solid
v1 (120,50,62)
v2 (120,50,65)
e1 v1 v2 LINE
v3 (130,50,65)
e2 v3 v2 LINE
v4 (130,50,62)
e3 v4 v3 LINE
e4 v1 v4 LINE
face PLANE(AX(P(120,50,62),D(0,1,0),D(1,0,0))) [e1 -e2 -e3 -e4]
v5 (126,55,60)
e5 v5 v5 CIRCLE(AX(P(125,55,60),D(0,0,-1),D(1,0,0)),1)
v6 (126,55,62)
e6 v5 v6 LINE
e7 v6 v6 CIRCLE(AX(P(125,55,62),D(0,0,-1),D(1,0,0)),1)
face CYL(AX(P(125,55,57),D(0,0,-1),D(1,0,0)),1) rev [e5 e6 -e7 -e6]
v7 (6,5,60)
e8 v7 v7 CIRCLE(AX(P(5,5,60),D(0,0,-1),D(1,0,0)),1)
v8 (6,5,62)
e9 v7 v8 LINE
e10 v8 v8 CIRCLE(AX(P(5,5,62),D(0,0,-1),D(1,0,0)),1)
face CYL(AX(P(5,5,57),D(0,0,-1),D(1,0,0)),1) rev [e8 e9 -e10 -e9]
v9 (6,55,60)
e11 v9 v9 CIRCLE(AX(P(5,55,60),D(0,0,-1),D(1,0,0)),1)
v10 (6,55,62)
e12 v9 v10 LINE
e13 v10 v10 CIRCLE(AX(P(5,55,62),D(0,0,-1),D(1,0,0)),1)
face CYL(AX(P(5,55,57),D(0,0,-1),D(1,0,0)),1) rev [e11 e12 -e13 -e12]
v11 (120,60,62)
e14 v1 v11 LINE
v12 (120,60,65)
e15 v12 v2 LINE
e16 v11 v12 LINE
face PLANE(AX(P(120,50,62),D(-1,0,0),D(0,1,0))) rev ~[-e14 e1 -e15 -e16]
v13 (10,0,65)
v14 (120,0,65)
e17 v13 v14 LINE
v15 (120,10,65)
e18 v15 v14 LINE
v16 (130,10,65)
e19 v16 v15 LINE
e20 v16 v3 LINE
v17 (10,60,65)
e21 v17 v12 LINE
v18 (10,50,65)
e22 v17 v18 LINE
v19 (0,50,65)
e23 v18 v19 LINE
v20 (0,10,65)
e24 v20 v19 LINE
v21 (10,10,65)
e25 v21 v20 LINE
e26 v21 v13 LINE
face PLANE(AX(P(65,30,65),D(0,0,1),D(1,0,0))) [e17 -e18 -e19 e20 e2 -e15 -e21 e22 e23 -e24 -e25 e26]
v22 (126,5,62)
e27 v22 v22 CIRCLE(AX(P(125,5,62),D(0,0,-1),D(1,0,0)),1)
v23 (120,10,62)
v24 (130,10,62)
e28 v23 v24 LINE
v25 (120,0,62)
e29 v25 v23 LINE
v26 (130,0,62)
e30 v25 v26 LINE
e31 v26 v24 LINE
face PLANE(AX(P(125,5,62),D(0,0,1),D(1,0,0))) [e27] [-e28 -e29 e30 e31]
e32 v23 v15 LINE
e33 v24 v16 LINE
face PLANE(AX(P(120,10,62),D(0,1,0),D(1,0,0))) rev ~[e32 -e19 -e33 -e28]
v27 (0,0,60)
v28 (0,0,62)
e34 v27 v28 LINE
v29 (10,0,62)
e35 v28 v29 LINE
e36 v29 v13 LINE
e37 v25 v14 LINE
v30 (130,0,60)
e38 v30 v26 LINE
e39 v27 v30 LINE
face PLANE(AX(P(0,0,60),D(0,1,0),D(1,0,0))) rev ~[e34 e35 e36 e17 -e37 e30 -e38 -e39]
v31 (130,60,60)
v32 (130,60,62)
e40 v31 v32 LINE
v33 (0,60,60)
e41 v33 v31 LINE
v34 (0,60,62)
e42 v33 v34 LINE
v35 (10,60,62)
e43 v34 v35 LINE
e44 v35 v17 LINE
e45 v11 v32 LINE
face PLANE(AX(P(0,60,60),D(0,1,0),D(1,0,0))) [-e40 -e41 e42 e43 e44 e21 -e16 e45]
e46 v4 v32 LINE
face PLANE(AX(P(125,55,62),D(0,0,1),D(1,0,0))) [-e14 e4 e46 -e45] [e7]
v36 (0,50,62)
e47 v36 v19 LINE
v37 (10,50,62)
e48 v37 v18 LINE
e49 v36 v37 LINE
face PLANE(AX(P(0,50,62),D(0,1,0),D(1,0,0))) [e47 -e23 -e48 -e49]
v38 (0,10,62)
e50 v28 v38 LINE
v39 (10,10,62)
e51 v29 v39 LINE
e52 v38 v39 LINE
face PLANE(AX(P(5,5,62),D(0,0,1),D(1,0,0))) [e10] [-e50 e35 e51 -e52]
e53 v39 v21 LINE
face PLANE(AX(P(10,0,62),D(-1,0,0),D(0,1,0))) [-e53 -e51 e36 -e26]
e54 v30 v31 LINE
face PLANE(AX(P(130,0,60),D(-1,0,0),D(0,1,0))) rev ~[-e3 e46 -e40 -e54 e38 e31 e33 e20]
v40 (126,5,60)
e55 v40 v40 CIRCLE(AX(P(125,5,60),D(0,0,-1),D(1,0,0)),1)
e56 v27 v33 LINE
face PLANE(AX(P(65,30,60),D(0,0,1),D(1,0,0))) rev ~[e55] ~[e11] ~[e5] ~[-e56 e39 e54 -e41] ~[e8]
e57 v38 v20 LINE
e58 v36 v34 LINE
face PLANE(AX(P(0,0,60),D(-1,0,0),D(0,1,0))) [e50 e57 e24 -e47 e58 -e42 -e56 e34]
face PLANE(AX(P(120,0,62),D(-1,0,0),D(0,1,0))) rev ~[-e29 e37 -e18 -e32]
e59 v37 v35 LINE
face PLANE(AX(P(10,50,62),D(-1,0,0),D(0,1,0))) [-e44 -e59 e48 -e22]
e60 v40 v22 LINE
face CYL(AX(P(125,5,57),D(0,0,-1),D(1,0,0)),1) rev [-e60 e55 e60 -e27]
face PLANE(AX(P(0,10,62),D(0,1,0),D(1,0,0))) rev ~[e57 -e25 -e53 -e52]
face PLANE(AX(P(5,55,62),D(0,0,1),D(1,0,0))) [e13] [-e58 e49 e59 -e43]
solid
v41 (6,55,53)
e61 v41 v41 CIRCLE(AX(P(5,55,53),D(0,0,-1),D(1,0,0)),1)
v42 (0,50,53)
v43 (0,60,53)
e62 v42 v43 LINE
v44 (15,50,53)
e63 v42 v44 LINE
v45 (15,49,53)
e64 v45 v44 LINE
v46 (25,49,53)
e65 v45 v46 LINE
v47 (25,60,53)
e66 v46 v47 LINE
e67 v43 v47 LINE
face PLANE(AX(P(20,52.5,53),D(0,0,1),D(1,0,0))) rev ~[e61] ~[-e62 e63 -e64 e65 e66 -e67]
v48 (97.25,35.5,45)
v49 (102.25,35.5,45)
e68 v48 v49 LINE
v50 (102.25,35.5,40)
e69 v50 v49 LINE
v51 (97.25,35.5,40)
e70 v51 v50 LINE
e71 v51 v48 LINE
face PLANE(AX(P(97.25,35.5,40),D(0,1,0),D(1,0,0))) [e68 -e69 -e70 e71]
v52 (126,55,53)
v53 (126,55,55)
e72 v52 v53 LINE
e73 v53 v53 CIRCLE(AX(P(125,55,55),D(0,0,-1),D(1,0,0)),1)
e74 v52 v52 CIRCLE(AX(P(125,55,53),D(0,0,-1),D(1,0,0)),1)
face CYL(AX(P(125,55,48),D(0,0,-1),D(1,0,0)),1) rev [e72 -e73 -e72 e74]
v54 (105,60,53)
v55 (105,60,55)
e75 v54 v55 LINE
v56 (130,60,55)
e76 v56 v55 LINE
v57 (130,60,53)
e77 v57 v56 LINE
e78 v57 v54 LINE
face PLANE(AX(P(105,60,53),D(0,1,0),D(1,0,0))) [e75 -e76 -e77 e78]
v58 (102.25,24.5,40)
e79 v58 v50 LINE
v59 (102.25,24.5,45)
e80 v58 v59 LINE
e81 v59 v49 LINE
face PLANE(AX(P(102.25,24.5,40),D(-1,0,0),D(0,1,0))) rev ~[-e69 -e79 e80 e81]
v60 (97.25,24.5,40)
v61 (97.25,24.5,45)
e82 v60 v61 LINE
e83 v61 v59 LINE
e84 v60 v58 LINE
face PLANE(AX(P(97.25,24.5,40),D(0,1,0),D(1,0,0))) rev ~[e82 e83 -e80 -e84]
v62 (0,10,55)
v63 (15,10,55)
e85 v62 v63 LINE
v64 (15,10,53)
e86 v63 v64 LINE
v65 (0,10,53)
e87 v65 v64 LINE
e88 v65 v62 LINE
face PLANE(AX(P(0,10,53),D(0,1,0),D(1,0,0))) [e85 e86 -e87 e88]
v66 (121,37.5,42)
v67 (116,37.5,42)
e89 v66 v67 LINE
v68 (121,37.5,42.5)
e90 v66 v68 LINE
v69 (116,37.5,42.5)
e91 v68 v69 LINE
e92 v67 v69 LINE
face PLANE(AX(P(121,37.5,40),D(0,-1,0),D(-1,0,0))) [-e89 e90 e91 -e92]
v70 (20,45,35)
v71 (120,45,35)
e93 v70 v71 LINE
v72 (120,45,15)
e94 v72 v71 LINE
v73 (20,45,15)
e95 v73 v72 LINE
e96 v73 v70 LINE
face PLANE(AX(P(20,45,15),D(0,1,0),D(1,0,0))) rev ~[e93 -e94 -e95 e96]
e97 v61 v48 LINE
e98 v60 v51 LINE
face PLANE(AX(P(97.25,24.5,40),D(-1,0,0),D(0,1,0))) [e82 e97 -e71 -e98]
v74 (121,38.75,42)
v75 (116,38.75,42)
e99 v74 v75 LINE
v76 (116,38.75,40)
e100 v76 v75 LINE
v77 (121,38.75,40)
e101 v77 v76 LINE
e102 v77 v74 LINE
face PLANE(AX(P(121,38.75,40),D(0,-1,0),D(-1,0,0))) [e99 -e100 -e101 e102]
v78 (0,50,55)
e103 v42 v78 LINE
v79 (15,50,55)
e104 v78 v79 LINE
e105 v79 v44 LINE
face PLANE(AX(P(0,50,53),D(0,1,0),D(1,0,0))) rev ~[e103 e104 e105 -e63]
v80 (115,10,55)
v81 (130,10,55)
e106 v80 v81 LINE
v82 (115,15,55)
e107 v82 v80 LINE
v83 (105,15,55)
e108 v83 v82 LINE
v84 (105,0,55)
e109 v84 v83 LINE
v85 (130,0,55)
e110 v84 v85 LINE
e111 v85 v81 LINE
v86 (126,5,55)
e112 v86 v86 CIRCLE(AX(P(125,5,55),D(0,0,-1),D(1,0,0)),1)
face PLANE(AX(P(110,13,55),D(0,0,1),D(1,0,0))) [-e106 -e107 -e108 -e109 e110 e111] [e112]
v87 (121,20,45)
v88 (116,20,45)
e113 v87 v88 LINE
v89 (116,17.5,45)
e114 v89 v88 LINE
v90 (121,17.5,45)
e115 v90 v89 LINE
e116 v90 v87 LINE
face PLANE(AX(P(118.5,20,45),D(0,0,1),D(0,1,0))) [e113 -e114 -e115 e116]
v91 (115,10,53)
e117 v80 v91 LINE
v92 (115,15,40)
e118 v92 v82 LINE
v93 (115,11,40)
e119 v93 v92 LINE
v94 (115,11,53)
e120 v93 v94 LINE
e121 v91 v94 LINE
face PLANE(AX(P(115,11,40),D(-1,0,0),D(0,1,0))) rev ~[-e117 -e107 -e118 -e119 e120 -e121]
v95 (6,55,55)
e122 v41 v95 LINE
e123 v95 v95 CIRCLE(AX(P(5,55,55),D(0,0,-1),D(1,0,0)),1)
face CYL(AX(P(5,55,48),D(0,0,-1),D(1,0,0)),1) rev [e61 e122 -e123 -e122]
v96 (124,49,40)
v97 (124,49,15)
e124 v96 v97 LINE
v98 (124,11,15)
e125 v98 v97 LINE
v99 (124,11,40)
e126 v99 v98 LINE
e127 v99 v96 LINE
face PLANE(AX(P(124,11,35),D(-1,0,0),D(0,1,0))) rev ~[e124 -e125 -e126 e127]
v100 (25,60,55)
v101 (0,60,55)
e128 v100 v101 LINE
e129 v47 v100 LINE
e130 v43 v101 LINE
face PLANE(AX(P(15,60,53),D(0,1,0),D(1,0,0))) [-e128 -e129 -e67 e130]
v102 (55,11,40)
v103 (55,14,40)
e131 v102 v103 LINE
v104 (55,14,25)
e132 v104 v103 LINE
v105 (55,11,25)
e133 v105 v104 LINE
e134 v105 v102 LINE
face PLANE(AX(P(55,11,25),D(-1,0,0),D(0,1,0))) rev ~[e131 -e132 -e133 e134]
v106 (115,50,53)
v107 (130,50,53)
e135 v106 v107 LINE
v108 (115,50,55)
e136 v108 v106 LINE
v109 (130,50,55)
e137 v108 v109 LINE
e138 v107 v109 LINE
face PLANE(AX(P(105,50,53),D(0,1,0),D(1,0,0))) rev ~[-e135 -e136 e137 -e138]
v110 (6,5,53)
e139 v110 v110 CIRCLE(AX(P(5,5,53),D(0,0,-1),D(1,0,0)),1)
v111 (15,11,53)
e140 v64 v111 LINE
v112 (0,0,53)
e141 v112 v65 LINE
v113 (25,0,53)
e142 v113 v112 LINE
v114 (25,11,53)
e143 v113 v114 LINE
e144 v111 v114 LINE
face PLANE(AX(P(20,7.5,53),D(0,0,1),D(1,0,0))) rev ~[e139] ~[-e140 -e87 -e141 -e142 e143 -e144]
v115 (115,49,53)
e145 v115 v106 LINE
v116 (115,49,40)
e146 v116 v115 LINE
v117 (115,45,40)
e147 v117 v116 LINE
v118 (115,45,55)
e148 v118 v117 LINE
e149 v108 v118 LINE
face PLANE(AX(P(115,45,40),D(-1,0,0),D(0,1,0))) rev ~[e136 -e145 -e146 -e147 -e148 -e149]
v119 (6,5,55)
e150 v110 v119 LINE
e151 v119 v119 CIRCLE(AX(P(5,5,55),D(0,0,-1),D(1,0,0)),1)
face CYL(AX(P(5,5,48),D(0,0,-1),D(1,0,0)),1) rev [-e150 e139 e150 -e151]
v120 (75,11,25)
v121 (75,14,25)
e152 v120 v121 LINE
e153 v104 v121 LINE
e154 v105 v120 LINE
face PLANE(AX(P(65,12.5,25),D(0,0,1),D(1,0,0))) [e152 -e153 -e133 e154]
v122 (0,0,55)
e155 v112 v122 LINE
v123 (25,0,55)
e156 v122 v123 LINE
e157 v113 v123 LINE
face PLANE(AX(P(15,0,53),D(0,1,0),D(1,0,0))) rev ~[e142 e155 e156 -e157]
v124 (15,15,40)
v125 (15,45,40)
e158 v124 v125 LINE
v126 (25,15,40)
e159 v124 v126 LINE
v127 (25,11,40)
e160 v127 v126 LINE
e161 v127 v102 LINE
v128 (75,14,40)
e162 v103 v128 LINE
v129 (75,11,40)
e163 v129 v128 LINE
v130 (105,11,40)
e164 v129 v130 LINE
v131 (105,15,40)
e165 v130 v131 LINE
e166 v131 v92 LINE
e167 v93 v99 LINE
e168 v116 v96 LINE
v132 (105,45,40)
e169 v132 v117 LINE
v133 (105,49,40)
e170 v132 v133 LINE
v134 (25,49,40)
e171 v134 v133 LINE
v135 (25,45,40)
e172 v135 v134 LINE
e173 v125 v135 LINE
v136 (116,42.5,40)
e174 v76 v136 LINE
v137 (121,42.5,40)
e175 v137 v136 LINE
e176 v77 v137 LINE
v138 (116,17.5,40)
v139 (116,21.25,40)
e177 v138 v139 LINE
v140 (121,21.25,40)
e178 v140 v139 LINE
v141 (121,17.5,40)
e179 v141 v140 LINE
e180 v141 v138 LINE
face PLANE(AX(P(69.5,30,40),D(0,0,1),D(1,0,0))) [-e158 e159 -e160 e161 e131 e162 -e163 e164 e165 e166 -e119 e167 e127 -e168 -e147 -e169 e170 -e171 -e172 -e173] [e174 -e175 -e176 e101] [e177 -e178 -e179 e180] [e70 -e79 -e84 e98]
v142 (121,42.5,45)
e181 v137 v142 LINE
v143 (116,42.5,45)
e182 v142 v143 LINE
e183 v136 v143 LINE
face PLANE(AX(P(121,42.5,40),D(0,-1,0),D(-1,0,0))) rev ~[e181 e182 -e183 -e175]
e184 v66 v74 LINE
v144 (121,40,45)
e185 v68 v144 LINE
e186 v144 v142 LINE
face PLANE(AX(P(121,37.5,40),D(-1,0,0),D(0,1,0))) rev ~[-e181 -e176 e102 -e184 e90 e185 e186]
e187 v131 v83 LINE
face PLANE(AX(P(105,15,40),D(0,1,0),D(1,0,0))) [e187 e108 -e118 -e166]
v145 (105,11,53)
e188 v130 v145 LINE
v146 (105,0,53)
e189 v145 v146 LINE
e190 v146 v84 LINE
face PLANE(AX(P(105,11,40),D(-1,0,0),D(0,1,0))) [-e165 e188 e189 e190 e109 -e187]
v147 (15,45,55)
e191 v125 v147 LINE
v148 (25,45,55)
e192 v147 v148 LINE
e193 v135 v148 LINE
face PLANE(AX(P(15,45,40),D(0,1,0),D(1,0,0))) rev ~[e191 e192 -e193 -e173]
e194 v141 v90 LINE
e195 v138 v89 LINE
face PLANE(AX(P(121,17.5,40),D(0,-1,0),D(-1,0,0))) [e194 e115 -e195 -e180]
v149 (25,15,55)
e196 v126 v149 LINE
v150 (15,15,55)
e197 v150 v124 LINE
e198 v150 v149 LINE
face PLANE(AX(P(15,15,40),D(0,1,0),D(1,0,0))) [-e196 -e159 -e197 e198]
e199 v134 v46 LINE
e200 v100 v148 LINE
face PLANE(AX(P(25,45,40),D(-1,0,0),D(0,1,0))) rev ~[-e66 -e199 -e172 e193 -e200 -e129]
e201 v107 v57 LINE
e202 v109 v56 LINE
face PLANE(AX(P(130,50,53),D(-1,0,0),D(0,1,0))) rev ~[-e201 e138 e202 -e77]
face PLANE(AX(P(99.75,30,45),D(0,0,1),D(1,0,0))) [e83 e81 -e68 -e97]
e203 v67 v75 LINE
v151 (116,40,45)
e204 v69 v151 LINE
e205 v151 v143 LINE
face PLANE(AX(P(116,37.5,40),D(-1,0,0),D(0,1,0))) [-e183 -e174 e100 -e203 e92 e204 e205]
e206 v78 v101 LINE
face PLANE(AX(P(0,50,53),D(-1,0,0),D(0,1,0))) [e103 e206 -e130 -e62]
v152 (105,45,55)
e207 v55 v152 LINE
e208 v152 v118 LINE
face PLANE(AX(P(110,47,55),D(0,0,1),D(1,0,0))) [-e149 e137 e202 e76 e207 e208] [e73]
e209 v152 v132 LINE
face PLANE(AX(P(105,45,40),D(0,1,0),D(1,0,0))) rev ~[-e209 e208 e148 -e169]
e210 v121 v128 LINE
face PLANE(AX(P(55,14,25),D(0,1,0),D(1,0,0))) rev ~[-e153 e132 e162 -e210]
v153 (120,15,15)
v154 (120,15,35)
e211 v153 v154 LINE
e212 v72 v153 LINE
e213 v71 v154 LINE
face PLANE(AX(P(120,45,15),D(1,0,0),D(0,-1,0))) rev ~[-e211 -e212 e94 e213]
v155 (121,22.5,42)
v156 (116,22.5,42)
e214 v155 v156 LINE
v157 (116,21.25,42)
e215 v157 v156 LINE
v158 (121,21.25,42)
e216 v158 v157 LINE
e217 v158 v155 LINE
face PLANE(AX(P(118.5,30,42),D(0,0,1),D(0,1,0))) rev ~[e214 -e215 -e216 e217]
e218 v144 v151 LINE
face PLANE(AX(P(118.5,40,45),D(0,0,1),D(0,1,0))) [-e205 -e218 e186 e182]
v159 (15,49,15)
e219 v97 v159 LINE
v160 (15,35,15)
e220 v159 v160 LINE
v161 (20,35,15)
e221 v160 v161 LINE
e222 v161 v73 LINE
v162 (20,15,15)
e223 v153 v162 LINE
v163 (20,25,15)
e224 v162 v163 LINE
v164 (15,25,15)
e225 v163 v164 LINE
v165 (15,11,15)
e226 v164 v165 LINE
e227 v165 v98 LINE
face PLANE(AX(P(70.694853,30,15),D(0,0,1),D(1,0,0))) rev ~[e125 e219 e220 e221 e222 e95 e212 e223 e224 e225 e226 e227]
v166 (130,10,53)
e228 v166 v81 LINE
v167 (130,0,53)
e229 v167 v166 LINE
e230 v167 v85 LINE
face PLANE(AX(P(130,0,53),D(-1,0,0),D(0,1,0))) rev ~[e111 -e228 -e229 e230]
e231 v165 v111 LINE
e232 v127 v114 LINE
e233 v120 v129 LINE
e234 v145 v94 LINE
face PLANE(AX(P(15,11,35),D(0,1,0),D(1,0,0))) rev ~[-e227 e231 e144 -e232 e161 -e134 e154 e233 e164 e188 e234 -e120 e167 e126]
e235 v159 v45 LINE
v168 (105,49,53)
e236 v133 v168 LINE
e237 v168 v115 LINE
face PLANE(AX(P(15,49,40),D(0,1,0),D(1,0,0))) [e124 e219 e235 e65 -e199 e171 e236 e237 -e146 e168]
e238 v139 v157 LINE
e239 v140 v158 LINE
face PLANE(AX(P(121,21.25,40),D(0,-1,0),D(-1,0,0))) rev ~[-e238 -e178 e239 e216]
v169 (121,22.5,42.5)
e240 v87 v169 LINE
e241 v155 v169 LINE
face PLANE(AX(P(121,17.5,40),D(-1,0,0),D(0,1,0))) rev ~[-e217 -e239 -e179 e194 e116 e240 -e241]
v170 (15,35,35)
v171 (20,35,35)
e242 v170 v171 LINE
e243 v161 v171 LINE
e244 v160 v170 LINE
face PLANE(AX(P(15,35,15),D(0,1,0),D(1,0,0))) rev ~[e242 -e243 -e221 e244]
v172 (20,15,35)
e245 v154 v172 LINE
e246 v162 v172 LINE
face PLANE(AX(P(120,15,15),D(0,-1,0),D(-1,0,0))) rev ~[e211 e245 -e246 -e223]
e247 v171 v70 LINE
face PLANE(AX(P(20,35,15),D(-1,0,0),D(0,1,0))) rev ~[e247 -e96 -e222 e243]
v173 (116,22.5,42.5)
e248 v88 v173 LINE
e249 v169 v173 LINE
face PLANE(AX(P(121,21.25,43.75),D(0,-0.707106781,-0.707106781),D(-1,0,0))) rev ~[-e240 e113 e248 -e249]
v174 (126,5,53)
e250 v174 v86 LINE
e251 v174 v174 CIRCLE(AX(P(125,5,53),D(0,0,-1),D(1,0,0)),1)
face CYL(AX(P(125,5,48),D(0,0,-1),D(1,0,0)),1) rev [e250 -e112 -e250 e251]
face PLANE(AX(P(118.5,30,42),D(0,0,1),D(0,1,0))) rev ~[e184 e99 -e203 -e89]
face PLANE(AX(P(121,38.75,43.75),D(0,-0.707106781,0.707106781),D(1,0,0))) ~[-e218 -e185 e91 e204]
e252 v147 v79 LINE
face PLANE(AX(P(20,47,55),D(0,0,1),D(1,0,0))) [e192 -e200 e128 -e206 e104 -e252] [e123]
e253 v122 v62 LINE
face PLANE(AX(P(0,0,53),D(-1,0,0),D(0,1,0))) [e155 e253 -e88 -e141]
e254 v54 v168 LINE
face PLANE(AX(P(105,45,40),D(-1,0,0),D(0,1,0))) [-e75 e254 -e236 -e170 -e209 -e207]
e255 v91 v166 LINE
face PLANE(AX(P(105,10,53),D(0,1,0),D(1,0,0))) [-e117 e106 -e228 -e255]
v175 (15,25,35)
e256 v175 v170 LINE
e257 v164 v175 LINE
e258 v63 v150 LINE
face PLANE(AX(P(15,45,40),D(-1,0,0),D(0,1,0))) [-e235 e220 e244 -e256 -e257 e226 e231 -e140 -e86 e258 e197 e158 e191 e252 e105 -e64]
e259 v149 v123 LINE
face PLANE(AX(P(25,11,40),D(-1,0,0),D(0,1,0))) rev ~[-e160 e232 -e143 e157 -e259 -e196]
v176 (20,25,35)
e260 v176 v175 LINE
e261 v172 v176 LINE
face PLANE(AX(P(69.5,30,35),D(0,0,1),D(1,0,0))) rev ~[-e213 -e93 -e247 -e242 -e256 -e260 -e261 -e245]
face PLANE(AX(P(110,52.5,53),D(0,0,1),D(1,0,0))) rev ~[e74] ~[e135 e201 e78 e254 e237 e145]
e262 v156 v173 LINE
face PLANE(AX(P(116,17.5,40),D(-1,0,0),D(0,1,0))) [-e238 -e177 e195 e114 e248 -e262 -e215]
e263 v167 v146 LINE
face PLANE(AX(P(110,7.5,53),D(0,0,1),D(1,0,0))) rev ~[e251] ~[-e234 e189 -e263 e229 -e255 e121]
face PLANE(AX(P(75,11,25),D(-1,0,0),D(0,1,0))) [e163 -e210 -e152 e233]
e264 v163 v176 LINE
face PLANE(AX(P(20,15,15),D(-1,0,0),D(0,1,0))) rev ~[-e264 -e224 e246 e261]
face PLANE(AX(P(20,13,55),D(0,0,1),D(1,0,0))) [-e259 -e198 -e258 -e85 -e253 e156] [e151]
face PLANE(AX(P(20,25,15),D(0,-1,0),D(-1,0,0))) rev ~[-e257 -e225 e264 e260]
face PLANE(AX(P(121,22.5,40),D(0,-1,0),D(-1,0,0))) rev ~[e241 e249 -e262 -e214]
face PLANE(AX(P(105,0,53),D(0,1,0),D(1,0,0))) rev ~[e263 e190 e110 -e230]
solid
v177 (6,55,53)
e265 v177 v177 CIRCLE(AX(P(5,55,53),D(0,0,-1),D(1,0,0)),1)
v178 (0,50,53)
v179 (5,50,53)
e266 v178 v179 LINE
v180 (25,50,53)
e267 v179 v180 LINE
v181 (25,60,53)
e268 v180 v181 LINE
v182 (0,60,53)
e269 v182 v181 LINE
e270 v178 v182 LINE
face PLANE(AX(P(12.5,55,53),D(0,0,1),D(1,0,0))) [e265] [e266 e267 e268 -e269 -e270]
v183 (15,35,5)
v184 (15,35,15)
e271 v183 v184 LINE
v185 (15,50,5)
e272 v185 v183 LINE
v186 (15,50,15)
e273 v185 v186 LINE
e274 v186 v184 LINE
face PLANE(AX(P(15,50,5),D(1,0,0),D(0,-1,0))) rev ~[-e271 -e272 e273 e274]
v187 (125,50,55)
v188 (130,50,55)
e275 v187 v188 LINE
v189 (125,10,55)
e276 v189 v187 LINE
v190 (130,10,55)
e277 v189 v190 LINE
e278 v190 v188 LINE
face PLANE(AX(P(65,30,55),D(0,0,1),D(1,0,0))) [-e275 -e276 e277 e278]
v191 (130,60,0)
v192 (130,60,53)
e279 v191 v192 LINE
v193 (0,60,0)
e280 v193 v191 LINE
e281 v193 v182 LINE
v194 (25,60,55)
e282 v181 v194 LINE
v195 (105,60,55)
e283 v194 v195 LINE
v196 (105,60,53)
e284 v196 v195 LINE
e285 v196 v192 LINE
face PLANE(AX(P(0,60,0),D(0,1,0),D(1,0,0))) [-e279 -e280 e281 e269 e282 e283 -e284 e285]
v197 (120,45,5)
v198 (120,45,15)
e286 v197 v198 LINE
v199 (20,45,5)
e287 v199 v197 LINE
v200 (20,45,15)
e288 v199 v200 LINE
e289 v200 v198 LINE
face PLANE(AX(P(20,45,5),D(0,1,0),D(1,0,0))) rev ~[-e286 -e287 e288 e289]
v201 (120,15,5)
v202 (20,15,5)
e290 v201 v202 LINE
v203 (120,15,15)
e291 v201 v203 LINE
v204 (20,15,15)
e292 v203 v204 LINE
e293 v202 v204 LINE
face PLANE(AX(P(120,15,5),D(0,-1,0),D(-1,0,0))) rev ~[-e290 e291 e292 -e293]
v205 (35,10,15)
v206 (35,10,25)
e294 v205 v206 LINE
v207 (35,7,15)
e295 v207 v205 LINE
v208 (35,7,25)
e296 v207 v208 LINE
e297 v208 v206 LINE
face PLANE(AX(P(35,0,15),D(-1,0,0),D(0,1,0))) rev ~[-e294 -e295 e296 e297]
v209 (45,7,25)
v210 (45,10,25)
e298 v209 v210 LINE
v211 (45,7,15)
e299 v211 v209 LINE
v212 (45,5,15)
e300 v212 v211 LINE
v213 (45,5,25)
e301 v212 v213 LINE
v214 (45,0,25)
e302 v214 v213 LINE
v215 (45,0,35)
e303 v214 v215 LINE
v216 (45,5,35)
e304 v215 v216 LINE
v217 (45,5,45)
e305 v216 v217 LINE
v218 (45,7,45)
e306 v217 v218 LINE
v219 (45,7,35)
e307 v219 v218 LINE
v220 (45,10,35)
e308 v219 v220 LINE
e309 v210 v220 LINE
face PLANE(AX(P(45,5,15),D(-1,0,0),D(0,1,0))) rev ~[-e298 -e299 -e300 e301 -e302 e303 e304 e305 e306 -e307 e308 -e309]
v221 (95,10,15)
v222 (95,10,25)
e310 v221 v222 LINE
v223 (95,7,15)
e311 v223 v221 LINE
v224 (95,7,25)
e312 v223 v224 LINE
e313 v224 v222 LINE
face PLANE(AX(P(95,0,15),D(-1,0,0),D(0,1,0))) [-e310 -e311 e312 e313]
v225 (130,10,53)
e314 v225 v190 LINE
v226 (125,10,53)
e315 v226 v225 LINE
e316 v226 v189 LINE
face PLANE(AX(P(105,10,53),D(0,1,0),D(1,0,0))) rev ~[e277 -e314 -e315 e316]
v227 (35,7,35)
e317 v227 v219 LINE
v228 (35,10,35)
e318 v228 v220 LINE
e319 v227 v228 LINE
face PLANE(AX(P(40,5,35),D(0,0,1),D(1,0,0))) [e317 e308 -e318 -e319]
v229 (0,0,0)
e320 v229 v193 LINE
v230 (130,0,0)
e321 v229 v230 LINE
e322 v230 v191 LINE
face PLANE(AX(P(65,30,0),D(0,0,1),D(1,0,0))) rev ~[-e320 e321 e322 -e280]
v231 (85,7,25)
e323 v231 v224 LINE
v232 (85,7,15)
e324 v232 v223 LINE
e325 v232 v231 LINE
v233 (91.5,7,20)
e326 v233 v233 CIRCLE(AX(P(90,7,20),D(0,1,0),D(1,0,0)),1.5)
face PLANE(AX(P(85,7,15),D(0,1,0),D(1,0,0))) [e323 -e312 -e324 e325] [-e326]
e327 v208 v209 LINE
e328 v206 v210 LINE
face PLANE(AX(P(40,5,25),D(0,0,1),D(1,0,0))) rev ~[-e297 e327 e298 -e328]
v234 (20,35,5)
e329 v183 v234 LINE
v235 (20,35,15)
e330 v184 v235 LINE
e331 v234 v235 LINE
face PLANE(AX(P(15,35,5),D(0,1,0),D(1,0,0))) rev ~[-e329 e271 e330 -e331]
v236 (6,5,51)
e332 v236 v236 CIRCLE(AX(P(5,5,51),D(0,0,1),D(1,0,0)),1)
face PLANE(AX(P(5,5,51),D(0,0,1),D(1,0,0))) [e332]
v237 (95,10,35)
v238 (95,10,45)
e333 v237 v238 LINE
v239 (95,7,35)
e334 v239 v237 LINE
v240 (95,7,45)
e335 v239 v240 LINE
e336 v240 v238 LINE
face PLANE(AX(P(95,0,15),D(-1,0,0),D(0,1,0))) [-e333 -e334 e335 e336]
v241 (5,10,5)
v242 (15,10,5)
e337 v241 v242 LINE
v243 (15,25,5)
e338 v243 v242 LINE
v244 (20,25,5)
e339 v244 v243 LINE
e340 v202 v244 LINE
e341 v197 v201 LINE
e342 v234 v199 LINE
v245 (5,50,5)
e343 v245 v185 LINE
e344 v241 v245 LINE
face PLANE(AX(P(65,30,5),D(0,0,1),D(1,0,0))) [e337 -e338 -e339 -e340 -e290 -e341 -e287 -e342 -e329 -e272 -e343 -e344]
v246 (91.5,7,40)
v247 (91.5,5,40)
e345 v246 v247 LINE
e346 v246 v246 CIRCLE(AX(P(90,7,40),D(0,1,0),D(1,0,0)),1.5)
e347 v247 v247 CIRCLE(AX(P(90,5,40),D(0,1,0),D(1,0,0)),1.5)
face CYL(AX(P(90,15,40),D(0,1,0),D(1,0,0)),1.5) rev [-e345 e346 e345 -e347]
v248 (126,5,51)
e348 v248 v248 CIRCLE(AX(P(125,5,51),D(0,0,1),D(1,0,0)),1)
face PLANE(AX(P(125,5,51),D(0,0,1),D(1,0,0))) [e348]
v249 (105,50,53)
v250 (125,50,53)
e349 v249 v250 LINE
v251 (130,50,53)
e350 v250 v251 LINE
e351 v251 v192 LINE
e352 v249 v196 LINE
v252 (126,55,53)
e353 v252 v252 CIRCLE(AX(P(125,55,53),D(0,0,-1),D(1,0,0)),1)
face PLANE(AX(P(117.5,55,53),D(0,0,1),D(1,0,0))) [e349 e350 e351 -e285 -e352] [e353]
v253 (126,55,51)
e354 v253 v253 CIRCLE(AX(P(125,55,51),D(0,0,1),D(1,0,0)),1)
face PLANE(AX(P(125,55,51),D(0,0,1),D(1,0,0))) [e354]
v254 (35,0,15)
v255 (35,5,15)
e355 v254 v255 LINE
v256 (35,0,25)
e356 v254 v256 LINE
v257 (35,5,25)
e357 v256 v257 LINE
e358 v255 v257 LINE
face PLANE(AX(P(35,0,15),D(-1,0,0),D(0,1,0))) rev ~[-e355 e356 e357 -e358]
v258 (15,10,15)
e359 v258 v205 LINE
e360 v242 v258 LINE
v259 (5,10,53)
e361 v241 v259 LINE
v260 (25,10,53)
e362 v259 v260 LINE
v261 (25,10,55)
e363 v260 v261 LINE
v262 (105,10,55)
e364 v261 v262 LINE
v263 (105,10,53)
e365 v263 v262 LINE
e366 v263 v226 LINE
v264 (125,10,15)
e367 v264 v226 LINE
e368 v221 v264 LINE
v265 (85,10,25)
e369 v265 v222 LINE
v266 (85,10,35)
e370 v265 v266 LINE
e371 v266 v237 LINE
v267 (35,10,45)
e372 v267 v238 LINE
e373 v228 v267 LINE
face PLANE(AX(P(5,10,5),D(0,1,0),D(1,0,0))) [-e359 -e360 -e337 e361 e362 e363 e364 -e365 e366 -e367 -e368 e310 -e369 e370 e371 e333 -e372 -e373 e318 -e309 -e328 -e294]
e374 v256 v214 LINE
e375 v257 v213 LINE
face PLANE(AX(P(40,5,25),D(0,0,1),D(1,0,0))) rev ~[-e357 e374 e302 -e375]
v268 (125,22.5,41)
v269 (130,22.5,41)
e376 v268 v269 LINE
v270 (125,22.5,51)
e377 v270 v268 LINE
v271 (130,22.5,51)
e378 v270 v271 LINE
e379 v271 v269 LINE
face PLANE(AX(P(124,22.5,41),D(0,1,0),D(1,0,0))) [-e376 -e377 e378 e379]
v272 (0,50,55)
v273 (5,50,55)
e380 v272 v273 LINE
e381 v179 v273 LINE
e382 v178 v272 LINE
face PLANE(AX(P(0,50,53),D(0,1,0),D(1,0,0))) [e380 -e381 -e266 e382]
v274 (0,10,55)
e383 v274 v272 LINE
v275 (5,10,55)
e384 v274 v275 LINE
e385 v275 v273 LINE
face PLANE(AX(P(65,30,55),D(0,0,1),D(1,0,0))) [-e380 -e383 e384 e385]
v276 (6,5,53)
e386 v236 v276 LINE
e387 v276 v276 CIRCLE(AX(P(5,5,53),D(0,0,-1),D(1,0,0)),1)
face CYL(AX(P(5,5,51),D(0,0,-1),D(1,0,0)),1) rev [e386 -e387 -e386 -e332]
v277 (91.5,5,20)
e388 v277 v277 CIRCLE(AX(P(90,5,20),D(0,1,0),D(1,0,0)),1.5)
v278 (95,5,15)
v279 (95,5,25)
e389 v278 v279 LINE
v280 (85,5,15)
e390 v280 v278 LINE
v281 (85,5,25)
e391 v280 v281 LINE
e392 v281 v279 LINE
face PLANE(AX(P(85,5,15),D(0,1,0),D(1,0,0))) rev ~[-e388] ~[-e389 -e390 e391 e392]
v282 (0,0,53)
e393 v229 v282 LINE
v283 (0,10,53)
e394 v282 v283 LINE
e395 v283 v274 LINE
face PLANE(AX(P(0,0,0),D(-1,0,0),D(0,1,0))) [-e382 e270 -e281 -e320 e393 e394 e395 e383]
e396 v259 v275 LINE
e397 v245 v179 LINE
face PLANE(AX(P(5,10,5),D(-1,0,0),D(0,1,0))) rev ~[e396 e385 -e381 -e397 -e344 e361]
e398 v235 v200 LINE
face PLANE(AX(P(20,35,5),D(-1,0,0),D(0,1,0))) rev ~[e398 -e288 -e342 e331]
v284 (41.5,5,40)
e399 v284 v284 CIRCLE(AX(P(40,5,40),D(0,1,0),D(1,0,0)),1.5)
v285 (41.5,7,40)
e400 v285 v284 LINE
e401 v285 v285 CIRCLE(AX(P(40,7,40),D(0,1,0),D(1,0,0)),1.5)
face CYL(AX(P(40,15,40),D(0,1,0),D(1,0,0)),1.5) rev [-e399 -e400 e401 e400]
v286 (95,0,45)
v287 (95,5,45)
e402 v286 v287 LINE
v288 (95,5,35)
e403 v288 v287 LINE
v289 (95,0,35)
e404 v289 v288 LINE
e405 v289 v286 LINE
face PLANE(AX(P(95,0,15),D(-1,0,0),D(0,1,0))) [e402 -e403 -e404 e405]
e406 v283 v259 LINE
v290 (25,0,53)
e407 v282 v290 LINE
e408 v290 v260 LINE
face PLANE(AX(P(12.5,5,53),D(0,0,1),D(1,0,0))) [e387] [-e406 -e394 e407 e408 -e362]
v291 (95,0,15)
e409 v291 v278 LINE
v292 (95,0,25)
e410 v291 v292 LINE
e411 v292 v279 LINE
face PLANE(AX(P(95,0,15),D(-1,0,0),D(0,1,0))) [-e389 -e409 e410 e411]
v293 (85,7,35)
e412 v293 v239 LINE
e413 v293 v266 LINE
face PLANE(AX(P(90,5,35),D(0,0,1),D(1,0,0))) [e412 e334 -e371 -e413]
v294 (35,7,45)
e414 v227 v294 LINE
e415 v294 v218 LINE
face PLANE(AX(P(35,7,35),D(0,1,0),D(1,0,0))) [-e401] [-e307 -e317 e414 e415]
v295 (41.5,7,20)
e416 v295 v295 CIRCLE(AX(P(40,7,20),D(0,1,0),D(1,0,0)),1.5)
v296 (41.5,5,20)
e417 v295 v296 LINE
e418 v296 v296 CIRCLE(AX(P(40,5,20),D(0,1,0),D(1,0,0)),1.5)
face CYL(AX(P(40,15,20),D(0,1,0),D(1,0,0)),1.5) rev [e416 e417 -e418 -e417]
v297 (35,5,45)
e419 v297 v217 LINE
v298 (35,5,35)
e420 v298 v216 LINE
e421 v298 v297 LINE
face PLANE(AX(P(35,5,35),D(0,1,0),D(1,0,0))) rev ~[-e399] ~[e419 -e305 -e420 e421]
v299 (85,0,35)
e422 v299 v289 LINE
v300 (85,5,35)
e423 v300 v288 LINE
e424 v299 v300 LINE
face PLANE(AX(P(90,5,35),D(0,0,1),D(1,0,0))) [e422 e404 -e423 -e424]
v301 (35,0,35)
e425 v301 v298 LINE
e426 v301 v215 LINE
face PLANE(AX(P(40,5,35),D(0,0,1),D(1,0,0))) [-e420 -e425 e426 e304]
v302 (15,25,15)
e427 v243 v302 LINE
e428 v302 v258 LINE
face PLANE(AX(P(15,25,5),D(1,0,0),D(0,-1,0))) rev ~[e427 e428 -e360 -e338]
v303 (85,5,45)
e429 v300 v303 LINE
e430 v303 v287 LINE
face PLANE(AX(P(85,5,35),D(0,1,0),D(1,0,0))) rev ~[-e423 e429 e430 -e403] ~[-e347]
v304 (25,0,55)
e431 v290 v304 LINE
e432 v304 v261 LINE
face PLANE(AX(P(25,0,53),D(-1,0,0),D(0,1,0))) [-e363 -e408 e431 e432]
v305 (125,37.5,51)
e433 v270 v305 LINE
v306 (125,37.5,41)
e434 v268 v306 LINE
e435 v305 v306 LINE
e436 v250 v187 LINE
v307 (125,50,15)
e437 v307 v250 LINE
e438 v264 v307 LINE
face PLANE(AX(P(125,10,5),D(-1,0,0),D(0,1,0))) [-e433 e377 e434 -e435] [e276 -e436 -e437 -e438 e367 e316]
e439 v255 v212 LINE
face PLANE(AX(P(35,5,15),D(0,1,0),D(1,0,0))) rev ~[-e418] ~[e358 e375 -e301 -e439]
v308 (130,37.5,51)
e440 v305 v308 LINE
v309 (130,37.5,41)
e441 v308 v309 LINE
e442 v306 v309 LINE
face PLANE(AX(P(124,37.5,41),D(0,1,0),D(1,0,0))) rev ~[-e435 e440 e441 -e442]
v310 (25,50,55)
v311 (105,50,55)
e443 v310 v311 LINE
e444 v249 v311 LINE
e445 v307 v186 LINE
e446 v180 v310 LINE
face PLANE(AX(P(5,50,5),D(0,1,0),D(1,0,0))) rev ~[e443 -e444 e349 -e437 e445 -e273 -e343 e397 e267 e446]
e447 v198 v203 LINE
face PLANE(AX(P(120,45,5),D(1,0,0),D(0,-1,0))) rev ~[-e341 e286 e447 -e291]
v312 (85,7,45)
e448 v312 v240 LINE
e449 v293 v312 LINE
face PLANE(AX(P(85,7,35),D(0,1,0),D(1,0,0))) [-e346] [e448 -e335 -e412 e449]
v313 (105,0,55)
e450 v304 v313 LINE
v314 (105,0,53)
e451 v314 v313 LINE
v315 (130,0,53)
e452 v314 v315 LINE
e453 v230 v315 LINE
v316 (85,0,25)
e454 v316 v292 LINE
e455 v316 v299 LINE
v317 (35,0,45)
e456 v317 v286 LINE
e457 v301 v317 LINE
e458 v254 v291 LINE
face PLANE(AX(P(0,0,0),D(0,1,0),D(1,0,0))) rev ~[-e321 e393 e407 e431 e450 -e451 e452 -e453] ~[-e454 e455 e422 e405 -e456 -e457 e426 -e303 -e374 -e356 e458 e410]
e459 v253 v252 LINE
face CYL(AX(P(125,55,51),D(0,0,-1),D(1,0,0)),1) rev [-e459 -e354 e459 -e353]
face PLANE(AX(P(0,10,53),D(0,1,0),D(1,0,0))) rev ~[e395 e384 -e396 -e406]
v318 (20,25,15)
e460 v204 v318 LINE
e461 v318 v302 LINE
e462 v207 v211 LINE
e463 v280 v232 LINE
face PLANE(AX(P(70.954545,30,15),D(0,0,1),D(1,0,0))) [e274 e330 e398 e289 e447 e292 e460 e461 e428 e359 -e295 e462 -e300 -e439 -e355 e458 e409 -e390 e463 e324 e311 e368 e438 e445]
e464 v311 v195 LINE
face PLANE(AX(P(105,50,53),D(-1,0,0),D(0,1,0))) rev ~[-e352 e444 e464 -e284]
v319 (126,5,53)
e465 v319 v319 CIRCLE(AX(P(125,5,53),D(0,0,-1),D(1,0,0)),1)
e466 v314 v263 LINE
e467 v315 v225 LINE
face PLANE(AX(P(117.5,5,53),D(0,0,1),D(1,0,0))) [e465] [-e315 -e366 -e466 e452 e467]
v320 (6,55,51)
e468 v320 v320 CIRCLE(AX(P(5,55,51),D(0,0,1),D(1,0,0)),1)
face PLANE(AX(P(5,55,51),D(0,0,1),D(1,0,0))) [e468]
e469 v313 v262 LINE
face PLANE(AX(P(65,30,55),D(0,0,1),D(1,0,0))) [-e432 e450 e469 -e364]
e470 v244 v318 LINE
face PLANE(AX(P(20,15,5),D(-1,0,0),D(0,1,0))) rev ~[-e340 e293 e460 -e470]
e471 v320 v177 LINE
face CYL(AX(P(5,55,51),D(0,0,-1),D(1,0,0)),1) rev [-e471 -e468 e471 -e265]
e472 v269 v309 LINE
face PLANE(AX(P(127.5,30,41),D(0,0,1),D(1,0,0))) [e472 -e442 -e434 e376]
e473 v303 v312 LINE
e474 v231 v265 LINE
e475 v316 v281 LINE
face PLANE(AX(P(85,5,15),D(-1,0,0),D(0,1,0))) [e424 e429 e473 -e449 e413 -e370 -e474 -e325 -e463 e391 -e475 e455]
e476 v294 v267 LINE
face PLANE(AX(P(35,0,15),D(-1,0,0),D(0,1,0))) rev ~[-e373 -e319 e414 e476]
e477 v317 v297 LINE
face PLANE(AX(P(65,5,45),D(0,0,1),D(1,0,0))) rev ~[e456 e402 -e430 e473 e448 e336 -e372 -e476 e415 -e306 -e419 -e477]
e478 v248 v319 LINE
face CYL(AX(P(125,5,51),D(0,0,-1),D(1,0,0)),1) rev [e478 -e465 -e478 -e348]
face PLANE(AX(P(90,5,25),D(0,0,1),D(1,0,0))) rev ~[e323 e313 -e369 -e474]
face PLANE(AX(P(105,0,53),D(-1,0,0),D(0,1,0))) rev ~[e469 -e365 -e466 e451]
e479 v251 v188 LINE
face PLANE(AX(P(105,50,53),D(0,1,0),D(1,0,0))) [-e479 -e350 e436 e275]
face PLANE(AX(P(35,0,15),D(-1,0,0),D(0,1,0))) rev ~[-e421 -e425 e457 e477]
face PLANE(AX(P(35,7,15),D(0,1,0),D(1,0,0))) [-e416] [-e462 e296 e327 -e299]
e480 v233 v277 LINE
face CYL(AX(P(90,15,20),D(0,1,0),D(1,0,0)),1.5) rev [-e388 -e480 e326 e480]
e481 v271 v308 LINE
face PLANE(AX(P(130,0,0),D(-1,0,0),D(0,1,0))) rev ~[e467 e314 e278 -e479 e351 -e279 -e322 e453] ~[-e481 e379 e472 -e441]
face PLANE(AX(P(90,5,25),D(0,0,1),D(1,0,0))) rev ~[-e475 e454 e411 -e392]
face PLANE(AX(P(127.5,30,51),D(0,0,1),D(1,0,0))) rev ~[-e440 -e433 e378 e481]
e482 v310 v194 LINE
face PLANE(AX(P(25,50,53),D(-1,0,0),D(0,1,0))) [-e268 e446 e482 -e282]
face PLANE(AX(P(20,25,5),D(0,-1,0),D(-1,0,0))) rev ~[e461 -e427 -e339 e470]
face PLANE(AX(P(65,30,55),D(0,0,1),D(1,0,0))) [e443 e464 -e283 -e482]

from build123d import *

# Parameters (mm, degrees)
CYLINDER002_R           = 1
CYLINDER002_DEPTH       = 20
BOX007_W                = 10
BOX007_H                = 10
BOX007_DEPTH            = 10
ARRAY005_X_COUNT        = 2
ARRAY005_X_PITCH        = 120
ARRAY005_Y_COUNT        = 2
ARRAY005_Y_PITCH        = 50
BOX002_W                = 130
BOX002_H                = 60
BOX002_DEPTH            = 5
BOX014_W                = 7
BOX014_H                = 15
BOX014_DEPTH            = 10
CYLINDER001_R           = 1
CYLINDER001_DEPTH       = 3
ARRAY004_X_COUNT        = 2
ARRAY004_X_PITCH        = 120
ARRAY004_Y_COUNT        = 2
ARRAY004_Y_PITCH        = 50
CYLINDER_R              = 1.5
CYLINDER_DEPTH          = 30
CYLINDER_ROLL_ANGLE     = 90
ARRAY003_X_COUNT        = 2
ARRAY003_X_PITCH        = 50
ARRAY003_Y_COUNT        = 2
ARRAY003_Y_PITCH        = 20
BOX006_W                = 25
BOX006_H                = 10
BOX006_DEPTH            = 2
ARRAY002_X_COUNT        = 2
ARRAY002_X_PITCH        = 105
ARRAY002_Y_COUNT        = 2
ARRAY002_Y_PITCH        = 50
BOX005_W                = 10
BOX005_H                = 10
BOX005_DEPTH            = 10
ARRAY001_X_COUNT        = 2
ARRAY001_X_PITCH        = 50
BOX004_W                = 10
BOX004_H                = 2
BOX004_DEPTH            = 10
ARRAY_X_COUNT           = 2
ARRAY_X_PITCH           = 50
ARRAY_Y_COUNT           = 2
ARRAY_Y_PITCH           = 20
BOX003_W                = 60
BOX003_H                = 10
BOX003_DEPTH            = 30
BOX001_W                = 120
BOX001_H                = 40
BOX001_DEPTH            = 50
BOX_W                   = 130
BOX_H                   = 60
BOX_DEPTH               = 55
PAD_DEPTH               = 10
BOX015_W                = 20
BOX015_H                = 3
BOX015_DEPTH            = 15
CYLINDER003_R           = 1
CYLINDER003_DEPTH       = 10
ARRAY009_X_COUNT        = 2
ARRAY009_X_PITCH        = 120
ARRAY009_Y_COUNT        = 2
ARRAY009_Y_PITCH        = 50
BOX011_W                = 25
BOX011_H                = 10
BOX011_DEPTH            = 2
ARRAY008_X_COUNT        = 2
ARRAY008_X_PITCH        = 105
ARRAY008_Y_COUNT        = 2
ARRAY008_Y_PITCH        = 50
BOX010_W                = 10
BOX010_H                = 15
BOX010_DEPTH            = 2
ARRAY007_X_COUNT        = 2
ARRAY007_X_PITCH        = 90
ARRAY007_Y_COUNT        = 2
ARRAY007_Y_PITCH        = 45
BOX009_W                = 10
BOX009_H                = 4
BOX009_DEPTH            = 15
ARRAY006_X_COUNT        = 2
ARRAY006_X_PITCH        = 90
ARRAY006_Y_COUNT        = 2
ARRAY006_Y_PITCH        = 34
BOX008_W                = 109
BOX008_H                = 38
BOX008_DEPTH            = 5
PAD001_DEPTH            = 20
SKETCH002_W             = 5
SKETCH002_H             = 11
PAD002_DEPTH            = 5
BOX013_W                = 17.5
BOX013_H                = 5
BOX013_DEPTH            = 2
BOX012_W                = 5
BOX012_H                = 5
BOX012_DEPTH            = 5
ARRAY010_X_COUNT        = 2
ARRAY010_X_PITCH        = 20
CHAMFER_SIZE            = 2.5
CHAMFER_PLACEMENT_ANGLE = 90


with BuildPart() as cilindro002:
    # Cylinder002 → Cylinder002 (new body)
    with BuildSketch(Plane(origin=(5, 5, -5), x_dir=(1, 0, 0), z_dir=(0, 0, 1))):
        Circle(CYLINDER002_R)
    extrude(amount=CYLINDER002_DEPTH)


with BuildPart() as huecostapa:
    # Box007 → Box007 (new body)
    with BuildSketch(Plane.XY):
        with Locations((5, 5)):
            Rectangle(BOX007_W, BOX007_H)
    extrude(amount=BOX007_DEPTH)

    # Fusion: union Cilindro002
    add(cilindro002.part)

    # Array005 X: HuecosTapa ×2


with BuildPart() as huecostapa_1:
    add(huecostapa.part)
    with Locations(*[(i * ARRAY005_X_PITCH, 0, 0) for i in range(1, ARRAY005_X_COUNT)]):
        add(huecostapa.part)

    # Array005 Y: HuecosTapa ×2


with BuildPart() as huecostapa_2:
    add(huecostapa_1.part)
    with Locations(*[(0, i * ARRAY005_Y_PITCH, 0) for i in range(1, ARRAY005_Y_COUNT)]):
        add(huecostapa_1.part)


with BuildPart() as huecostapa_3:
    # Array005 placement: moved
    add(huecostapa_2.part.moved(Location((0, 0, 62))))


with BuildPart() as tapa:
    # Box002 → Box002 (new body)
    with BuildSketch(Plane.XY.offset(60)):
        with Locations((65, 30)):
            Rectangle(BOX002_W, BOX002_H)
    extrude(amount=BOX002_DEPTH)

    # Cut007: cut HuecosTapa
    add(huecostapa_3.part, mode=Mode.SUBTRACT)


with BuildPart() as huecousb:
    # Box014 → Box014 (new body)
    with BuildSketch(Plane(origin=(124, 22.5, 41), x_dir=(1, 0, 0), z_dir=(0, 0, 1))):
        with Locations((3.5, 7.5)):
            Rectangle(BOX014_W, BOX014_H)
    extrude(amount=BOX014_DEPTH)


with BuildPart() as array004:
    # Cylinder001 → Cylinder001 (new body)
    with BuildSketch(Plane.XY):
        Circle(CYLINDER001_R)
    extrude(amount=CYLINDER001_DEPTH)

    # Array004 X: Array004 ×2


with BuildPart() as array004_1:
    add(array004.part)
    with Locations(*[(i * ARRAY004_X_PITCH, 0, 0) for i in range(1, ARRAY004_X_COUNT)]):
        add(array004.part)

    # Array004 Y: Array004 ×2


with BuildPart() as array004_2:
    add(array004_1.part)
    with Locations(*[(0, i * ARRAY004_Y_PITCH, 0) for i in range(1, ARRAY004_Y_COUNT)]):
        add(array004_1.part)


with BuildPart() as array004_3:
    # Array004 placement: moved
    add(array004_2.part.moved(Location((5, 5, 51))))


with BuildPart() as array003:
    # Cylinder → Cylinder (new body)
    with BuildSketch(Plane.XY):
        Circle(CYLINDER_R)
    extrude(amount=CYLINDER_DEPTH)


with BuildPart() as array003_1:
    # Cylinder roll: moved
    add(array003.part.rotate(Axis((0, 0, 0), (1, 0, 0)), CYLINDER_ROLL_ANGLE))


with BuildPart() as array003_2:
    # Cylinder placement: moved
    add(array003_1.part)

    # Array003 X: Array003 ×2


with BuildPart() as array003_3:
    add(array003_2.part)
    with Locations(*[(i * ARRAY003_X_PITCH, 0, 0) for i in range(1, ARRAY003_X_COUNT)]):
        add(array003_2.part)

    # Array003 Y: Array003 ×2


with BuildPart() as array003_4:
    add(array003_3.part)
    with Locations(*[(0, 0, i * ARRAY003_Y_PITCH) for i in range(1, ARRAY003_Y_COUNT)]):
        add(array003_3.part)


with BuildPart() as array003_5:
    # Array003 placement: moved
    add(array003_4.part.moved(Location((40, 15, 20))))


with BuildPart() as array002:
    # Box006 → Box006 (new body)
    with BuildSketch(Plane.XY):
        with Locations((12.5, 5)):
            Rectangle(BOX006_W, BOX006_H)
    extrude(amount=BOX006_DEPTH)

    # Array002 X: Array002 ×2


with BuildPart() as array002_1:
    add(array002.part)
    with Locations(*[(i * ARRAY002_X_PITCH, 0, 0) for i in range(1, ARRAY002_X_COUNT)]):
        add(array002.part)

    # Array002 Y: Array002 ×2


with BuildPart() as array002_2:
    add(array002_1.part)
    with Locations(*[(0, i * ARRAY002_Y_PITCH, 0) for i in range(1, ARRAY002_Y_COUNT)]):
        add(array002_1.part)


with BuildPart() as array002_3:
    # Array002 placement: moved
    add(array002_2.part.moved(Location((0, 0, 53))))


with BuildPart() as array001:
    # Box005 → Box005 (new body)
    with BuildSketch(Plane(origin=(35, 0, 25), x_dir=(1, 0, 0), z_dir=(0, 0, 1))):
        with Locations((5, 5)):
            Rectangle(BOX005_W, BOX005_H)
    extrude(amount=BOX005_DEPTH)

    # Array001 X: Array001 ×2


with BuildPart() as array001_1:
    add(array001.part)
    with Locations(*[(i * ARRAY001_X_PITCH, 0, 0) for i in range(1, ARRAY001_X_COUNT)]):
        add(array001.part)


with BuildPart() as array:
    # Box004 → Box004 (new body)
    with BuildSketch(Plane.XY):
        with Locations((5, 1)):
            Rectangle(BOX004_W, BOX004_H)
    extrude(amount=BOX004_DEPTH)

    # Array X: Array ×2


with BuildPart() as array_1:
    add(array.part)
    with Locations(*[(i * ARRAY_X_PITCH, 0, 0) for i in range(1, ARRAY_X_COUNT)]):
        add(array.part)

    # Array Y: Array ×2


with BuildPart() as array_2:
    add(array_1.part)
    with Locations(*[(0, 0, i * ARRAY_Y_PITCH) for i in range(1, ARRAY_Y_COUNT)]):
        add(array_1.part)


with BuildPart() as array_3:
    # Array placement: moved
    add(array_2.part.moved(Location((0, 5, 0))))


with BuildPart() as cut002:
    # Box003 → Box003 (new body)
    with BuildSketch(Plane.XY):
        with Locations((30, 5)):
            Rectangle(BOX003_W, BOX003_H)
    extrude(amount=BOX003_DEPTH)

    # Cut001: cut Array
    add(array_3.part, mode=Mode.SUBTRACT)


with BuildPart() as cut002_1:
    # Cut001 placement: moved
    add(cut002.part.moved(Location((35, 0, 15))))

    # Cut002: cut Array001
    add(array001_1.part, mode=Mode.SUBTRACT)


with BuildPart() as interior:
    # Box001 → Box001 (new body)
    with BuildSketch(Plane(origin=(5, 10, 5), x_dir=(1, 0, 0), z_dir=(0, 0, 1))):
        with Locations((60, 20)):
            Rectangle(BOX001_W, BOX001_H)
    extrude(amount=BOX001_DEPTH)


with BuildPart() as carcasa_alimentacion_final:
    # Box → Box (new body)
    with BuildSketch(Plane.XY):
        with Locations((65, 30)):
            Rectangle(BOX_W, BOX_H)
    extrude(amount=BOX_DEPTH)

    # Cut: cut Interior
    add(interior.part, mode=Mode.SUBTRACT)

    # Cut003: cut Cut002
    add(cut002_1.part, mode=Mode.SUBTRACT)

    # Cut004: cut Array002
    add(array002_3.part, mode=Mode.SUBTRACT)

    # Sketch → Pad (new body)
    with BuildSketch(Plane.XY.offset(5)):
        Polygon((15, 35), (20, 35), (20, 45), (120, 45), (120, 15), (20, 15), (20, 25), (15, 25), (15, 10), (125, 10), (125, 50), (15, 50), align=None)
    extrude(amount=PAD_DEPTH)

    # Cut005: cut Array003
    add(array003_5.part, mode=Mode.SUBTRACT)

    # Cut006: cut Array004
    add(array004_3.part, mode=Mode.SUBTRACT)

    # Cut010: cut HuecoUSB
    add(huecousb.part, mode=Mode.SUBTRACT)


with BuildPart() as hueco_tornillo_conector:
    # Box015 → Box015 (new body)
    with BuildSketch(Plane(origin=(55, 11, 25), x_dir=(1, 0, 0), z_dir=(0, 0, 1))):
        with Locations((10, 1.5)):
            Rectangle(BOX015_W, BOX015_H)
    extrude(amount=BOX015_DEPTH)


with BuildPart() as array009:
    # Cylinder003 → Cylinder003 (new body)
    with BuildSketch(Plane.XY):
        Circle(CYLINDER003_R)
    extrude(amount=CYLINDER003_DEPTH)

    # Array009 X: Array009 ×2


with BuildPart() as array009_1:
    add(array009.part)
    with Locations(*[(i * ARRAY009_X_PITCH, 0, 0) for i in range(1, ARRAY009_X_COUNT)]):
        add(array009.part)

    # Array009 Y: Array009 ×2


with BuildPart() as array009_2:
    add(array009_1.part)
    with Locations(*[(0, i * ARRAY009_Y_PITCH, 0) for i in range(1, ARRAY009_Y_COUNT)]):
        add(array009_1.part)


with BuildPart() as array009_3:
    # Array009 placement: moved
    add(array009_2.part.moved(Location((-10, -6, 13))))


with BuildPart() as array008:
    # Box011 → Box011 (new body)
    with BuildSketch(Plane(origin=(-15, -11, 18), x_dir=(1, 0, 0), z_dir=(0, 0, 1))):
        with Locations((12.5, 5)):
            Rectangle(BOX011_W, BOX011_H)
    extrude(amount=BOX011_DEPTH)

    # Array008 X: Array008 ×2


with BuildPart() as array008_1:
    add(array008.part)
    with Locations(*[(i * ARRAY008_X_PITCH, 0, 0) for i in range(1, ARRAY008_X_COUNT)]):
        add(array008.part)

    # Array008 Y: Array008 ×2


with BuildPart() as array008_2:
    add(array008_1.part)
    with Locations(*[(0, i * ARRAY008_Y_PITCH, 0) for i in range(1, ARRAY008_Y_COUNT)]):
        add(array008_1.part)


with BuildPart() as array007:
    # Box010 → Box010 (new body)
    with BuildSketch(Plane(origin=(0, -11, 18), x_dir=(1, 0, 0), z_dir=(0, 0, 1))):
        with Locations((5, 7.5)):
            Rectangle(BOX010_W, BOX010_H)
    extrude(amount=BOX010_DEPTH)

    # Array007 X: Array007 ×2


with BuildPart() as array007_1:
    add(array007.part)
    with Locations(*[(i * ARRAY007_X_PITCH, 0, 0) for i in range(1, ARRAY007_X_COUNT)]):
        add(array007.part)

    # Array007 Y: Array007 ×2


with BuildPart() as array007_2:
    add(array007_1.part)
    with Locations(*[(0, i * ARRAY007_Y_PITCH, 0) for i in range(1, ARRAY007_Y_COUNT)]):
        add(array007_1.part)


with BuildPart() as array006:
    # Box009 → Box009 (new body)
    with BuildSketch(Plane.XY.offset(5)):
        with Locations((5, 2)):
            Rectangle(BOX009_W, BOX009_H)
    extrude(amount=BOX009_DEPTH)

    # Array006 X: Array006 ×2


with BuildPart() as array006_1:
    add(array006.part)
    with Locations(*[(i * ARRAY006_X_PITCH, 0, 0) for i in range(1, ARRAY006_X_COUNT)]):
        add(array006.part)

    # Array006 Y: Array006 ×2


with BuildPart() as array006_2:
    add(array006_1.part)
    with Locations(*[(0, i * ARRAY006_Y_PITCH, 0) for i in range(1, ARRAY006_Y_COUNT)]):
        add(array006_1.part)


with BuildPart() as cut008:
    # Box008 → Box008 (new body)
    with BuildSketch(Plane.XY):
        with Locations((54.5, 19)):
            Rectangle(BOX008_W, BOX008_H)
    extrude(amount=BOX008_DEPTH)

    # Fusion001: union Array006
    add(array006_2.part)

    # Fusion002: union Array007
    add(array007_2.part)

    # Fusion003: union Array008
    add(array008_2.part)

    # Cut008: cut Array009
    add(array009_3.part, mode=Mode.SUBTRACT)


with BuildPart() as cut008_1:
    # Cut008 placement: moved
    add(cut008.part.moved(Location((0, 0, 20))))


with BuildPart() as cut011:
    # Sketch001 → Pad001 (new body)
    with BuildSketch(Plane.XY):
        Polygon((0, 24), (5, 24), (5, 34), (105, 34), (105, 4), (5, 4), (5, 14), (0, 14), (0, 0), (109, 0), (109, 38), (0, 38), align=None)
    extrude(amount=PAD001_DEPTH)

    # Fusion004: union Cut008
    add(cut008_1.part)


with BuildPart() as cut011_1:
    # Fusion004 placement: moved
    add(cut011.part.moved(Location((15, 11, 15))))

    # Sketch002 → Pad002 (new body)
    with BuildSketch(Plane(origin=(15, 11, 40), x_dir=(1, 0, 0), z_dir=(0, 0, 1))):
        with Locations((84.75, 19)):
            Rectangle(SKETCH002_W, SKETCH002_H)
    extrude(amount=PAD002_DEPTH)

    # Cut011: cut Hueco_Tornillo_Conector
    add(hueco_tornillo_conector.part, mode=Mode.SUBTRACT)


with BuildPart() as clavijas_hueco:
    # Box013 → Box013 (new body)
    with BuildSketch(Plane(origin=(3.75, 0, 0), x_dir=(1, 0, 0), z_dir=(0, 0, 1))):
        with Locations((8.75, 2.5)):
            Rectangle(BOX013_W, BOX013_H)
    extrude(amount=BOX013_DEPTH)


with BuildPart() as soporte:
    # Box012 → Box012 (new body)
    with BuildSketch(Plane.XY):
        with Locations((2.5, 2.5)):
            Rectangle(BOX012_W, BOX012_H)
    extrude(amount=BOX012_DEPTH)

    # Array010 X: Soporte ×2


with BuildPart() as soporte_1:
    add(soporte.part)
    with Locations(*[(i * ARRAY010_X_PITCH, 0, 0) for i in range(1, ARRAY010_X_COUNT)]):
        add(soporte.part)

    # Cut009: cut Clavijas_hueco
    add(clavijas_hueco.part, mode=Mode.SUBTRACT)

    # Chamfer
    chamfer_edges = [soporte_1.edges().sort_by_distance(p)[0] for p in [
        (5, 2.5, 5),
        (20, 2.5, 5),
    ]]
    chamfer(chamfer_edges, length=CHAMFER_SIZE)


with BuildPart() as soporte_2:
    # Chamfer placement: moved
    add(soporte_1.part.moved(Location((121, 17.5, 40))).rotate(Axis((121, 17.5, 40), (0, 0, 1)), CHAMFER_PLACEMENT_ANGLE))

    # Fusion005: union Cut011
    add(cut011_1.part)


solid = Compound([tapa.part, carcasa_alimentacion_final.part, soporte_2.part])
